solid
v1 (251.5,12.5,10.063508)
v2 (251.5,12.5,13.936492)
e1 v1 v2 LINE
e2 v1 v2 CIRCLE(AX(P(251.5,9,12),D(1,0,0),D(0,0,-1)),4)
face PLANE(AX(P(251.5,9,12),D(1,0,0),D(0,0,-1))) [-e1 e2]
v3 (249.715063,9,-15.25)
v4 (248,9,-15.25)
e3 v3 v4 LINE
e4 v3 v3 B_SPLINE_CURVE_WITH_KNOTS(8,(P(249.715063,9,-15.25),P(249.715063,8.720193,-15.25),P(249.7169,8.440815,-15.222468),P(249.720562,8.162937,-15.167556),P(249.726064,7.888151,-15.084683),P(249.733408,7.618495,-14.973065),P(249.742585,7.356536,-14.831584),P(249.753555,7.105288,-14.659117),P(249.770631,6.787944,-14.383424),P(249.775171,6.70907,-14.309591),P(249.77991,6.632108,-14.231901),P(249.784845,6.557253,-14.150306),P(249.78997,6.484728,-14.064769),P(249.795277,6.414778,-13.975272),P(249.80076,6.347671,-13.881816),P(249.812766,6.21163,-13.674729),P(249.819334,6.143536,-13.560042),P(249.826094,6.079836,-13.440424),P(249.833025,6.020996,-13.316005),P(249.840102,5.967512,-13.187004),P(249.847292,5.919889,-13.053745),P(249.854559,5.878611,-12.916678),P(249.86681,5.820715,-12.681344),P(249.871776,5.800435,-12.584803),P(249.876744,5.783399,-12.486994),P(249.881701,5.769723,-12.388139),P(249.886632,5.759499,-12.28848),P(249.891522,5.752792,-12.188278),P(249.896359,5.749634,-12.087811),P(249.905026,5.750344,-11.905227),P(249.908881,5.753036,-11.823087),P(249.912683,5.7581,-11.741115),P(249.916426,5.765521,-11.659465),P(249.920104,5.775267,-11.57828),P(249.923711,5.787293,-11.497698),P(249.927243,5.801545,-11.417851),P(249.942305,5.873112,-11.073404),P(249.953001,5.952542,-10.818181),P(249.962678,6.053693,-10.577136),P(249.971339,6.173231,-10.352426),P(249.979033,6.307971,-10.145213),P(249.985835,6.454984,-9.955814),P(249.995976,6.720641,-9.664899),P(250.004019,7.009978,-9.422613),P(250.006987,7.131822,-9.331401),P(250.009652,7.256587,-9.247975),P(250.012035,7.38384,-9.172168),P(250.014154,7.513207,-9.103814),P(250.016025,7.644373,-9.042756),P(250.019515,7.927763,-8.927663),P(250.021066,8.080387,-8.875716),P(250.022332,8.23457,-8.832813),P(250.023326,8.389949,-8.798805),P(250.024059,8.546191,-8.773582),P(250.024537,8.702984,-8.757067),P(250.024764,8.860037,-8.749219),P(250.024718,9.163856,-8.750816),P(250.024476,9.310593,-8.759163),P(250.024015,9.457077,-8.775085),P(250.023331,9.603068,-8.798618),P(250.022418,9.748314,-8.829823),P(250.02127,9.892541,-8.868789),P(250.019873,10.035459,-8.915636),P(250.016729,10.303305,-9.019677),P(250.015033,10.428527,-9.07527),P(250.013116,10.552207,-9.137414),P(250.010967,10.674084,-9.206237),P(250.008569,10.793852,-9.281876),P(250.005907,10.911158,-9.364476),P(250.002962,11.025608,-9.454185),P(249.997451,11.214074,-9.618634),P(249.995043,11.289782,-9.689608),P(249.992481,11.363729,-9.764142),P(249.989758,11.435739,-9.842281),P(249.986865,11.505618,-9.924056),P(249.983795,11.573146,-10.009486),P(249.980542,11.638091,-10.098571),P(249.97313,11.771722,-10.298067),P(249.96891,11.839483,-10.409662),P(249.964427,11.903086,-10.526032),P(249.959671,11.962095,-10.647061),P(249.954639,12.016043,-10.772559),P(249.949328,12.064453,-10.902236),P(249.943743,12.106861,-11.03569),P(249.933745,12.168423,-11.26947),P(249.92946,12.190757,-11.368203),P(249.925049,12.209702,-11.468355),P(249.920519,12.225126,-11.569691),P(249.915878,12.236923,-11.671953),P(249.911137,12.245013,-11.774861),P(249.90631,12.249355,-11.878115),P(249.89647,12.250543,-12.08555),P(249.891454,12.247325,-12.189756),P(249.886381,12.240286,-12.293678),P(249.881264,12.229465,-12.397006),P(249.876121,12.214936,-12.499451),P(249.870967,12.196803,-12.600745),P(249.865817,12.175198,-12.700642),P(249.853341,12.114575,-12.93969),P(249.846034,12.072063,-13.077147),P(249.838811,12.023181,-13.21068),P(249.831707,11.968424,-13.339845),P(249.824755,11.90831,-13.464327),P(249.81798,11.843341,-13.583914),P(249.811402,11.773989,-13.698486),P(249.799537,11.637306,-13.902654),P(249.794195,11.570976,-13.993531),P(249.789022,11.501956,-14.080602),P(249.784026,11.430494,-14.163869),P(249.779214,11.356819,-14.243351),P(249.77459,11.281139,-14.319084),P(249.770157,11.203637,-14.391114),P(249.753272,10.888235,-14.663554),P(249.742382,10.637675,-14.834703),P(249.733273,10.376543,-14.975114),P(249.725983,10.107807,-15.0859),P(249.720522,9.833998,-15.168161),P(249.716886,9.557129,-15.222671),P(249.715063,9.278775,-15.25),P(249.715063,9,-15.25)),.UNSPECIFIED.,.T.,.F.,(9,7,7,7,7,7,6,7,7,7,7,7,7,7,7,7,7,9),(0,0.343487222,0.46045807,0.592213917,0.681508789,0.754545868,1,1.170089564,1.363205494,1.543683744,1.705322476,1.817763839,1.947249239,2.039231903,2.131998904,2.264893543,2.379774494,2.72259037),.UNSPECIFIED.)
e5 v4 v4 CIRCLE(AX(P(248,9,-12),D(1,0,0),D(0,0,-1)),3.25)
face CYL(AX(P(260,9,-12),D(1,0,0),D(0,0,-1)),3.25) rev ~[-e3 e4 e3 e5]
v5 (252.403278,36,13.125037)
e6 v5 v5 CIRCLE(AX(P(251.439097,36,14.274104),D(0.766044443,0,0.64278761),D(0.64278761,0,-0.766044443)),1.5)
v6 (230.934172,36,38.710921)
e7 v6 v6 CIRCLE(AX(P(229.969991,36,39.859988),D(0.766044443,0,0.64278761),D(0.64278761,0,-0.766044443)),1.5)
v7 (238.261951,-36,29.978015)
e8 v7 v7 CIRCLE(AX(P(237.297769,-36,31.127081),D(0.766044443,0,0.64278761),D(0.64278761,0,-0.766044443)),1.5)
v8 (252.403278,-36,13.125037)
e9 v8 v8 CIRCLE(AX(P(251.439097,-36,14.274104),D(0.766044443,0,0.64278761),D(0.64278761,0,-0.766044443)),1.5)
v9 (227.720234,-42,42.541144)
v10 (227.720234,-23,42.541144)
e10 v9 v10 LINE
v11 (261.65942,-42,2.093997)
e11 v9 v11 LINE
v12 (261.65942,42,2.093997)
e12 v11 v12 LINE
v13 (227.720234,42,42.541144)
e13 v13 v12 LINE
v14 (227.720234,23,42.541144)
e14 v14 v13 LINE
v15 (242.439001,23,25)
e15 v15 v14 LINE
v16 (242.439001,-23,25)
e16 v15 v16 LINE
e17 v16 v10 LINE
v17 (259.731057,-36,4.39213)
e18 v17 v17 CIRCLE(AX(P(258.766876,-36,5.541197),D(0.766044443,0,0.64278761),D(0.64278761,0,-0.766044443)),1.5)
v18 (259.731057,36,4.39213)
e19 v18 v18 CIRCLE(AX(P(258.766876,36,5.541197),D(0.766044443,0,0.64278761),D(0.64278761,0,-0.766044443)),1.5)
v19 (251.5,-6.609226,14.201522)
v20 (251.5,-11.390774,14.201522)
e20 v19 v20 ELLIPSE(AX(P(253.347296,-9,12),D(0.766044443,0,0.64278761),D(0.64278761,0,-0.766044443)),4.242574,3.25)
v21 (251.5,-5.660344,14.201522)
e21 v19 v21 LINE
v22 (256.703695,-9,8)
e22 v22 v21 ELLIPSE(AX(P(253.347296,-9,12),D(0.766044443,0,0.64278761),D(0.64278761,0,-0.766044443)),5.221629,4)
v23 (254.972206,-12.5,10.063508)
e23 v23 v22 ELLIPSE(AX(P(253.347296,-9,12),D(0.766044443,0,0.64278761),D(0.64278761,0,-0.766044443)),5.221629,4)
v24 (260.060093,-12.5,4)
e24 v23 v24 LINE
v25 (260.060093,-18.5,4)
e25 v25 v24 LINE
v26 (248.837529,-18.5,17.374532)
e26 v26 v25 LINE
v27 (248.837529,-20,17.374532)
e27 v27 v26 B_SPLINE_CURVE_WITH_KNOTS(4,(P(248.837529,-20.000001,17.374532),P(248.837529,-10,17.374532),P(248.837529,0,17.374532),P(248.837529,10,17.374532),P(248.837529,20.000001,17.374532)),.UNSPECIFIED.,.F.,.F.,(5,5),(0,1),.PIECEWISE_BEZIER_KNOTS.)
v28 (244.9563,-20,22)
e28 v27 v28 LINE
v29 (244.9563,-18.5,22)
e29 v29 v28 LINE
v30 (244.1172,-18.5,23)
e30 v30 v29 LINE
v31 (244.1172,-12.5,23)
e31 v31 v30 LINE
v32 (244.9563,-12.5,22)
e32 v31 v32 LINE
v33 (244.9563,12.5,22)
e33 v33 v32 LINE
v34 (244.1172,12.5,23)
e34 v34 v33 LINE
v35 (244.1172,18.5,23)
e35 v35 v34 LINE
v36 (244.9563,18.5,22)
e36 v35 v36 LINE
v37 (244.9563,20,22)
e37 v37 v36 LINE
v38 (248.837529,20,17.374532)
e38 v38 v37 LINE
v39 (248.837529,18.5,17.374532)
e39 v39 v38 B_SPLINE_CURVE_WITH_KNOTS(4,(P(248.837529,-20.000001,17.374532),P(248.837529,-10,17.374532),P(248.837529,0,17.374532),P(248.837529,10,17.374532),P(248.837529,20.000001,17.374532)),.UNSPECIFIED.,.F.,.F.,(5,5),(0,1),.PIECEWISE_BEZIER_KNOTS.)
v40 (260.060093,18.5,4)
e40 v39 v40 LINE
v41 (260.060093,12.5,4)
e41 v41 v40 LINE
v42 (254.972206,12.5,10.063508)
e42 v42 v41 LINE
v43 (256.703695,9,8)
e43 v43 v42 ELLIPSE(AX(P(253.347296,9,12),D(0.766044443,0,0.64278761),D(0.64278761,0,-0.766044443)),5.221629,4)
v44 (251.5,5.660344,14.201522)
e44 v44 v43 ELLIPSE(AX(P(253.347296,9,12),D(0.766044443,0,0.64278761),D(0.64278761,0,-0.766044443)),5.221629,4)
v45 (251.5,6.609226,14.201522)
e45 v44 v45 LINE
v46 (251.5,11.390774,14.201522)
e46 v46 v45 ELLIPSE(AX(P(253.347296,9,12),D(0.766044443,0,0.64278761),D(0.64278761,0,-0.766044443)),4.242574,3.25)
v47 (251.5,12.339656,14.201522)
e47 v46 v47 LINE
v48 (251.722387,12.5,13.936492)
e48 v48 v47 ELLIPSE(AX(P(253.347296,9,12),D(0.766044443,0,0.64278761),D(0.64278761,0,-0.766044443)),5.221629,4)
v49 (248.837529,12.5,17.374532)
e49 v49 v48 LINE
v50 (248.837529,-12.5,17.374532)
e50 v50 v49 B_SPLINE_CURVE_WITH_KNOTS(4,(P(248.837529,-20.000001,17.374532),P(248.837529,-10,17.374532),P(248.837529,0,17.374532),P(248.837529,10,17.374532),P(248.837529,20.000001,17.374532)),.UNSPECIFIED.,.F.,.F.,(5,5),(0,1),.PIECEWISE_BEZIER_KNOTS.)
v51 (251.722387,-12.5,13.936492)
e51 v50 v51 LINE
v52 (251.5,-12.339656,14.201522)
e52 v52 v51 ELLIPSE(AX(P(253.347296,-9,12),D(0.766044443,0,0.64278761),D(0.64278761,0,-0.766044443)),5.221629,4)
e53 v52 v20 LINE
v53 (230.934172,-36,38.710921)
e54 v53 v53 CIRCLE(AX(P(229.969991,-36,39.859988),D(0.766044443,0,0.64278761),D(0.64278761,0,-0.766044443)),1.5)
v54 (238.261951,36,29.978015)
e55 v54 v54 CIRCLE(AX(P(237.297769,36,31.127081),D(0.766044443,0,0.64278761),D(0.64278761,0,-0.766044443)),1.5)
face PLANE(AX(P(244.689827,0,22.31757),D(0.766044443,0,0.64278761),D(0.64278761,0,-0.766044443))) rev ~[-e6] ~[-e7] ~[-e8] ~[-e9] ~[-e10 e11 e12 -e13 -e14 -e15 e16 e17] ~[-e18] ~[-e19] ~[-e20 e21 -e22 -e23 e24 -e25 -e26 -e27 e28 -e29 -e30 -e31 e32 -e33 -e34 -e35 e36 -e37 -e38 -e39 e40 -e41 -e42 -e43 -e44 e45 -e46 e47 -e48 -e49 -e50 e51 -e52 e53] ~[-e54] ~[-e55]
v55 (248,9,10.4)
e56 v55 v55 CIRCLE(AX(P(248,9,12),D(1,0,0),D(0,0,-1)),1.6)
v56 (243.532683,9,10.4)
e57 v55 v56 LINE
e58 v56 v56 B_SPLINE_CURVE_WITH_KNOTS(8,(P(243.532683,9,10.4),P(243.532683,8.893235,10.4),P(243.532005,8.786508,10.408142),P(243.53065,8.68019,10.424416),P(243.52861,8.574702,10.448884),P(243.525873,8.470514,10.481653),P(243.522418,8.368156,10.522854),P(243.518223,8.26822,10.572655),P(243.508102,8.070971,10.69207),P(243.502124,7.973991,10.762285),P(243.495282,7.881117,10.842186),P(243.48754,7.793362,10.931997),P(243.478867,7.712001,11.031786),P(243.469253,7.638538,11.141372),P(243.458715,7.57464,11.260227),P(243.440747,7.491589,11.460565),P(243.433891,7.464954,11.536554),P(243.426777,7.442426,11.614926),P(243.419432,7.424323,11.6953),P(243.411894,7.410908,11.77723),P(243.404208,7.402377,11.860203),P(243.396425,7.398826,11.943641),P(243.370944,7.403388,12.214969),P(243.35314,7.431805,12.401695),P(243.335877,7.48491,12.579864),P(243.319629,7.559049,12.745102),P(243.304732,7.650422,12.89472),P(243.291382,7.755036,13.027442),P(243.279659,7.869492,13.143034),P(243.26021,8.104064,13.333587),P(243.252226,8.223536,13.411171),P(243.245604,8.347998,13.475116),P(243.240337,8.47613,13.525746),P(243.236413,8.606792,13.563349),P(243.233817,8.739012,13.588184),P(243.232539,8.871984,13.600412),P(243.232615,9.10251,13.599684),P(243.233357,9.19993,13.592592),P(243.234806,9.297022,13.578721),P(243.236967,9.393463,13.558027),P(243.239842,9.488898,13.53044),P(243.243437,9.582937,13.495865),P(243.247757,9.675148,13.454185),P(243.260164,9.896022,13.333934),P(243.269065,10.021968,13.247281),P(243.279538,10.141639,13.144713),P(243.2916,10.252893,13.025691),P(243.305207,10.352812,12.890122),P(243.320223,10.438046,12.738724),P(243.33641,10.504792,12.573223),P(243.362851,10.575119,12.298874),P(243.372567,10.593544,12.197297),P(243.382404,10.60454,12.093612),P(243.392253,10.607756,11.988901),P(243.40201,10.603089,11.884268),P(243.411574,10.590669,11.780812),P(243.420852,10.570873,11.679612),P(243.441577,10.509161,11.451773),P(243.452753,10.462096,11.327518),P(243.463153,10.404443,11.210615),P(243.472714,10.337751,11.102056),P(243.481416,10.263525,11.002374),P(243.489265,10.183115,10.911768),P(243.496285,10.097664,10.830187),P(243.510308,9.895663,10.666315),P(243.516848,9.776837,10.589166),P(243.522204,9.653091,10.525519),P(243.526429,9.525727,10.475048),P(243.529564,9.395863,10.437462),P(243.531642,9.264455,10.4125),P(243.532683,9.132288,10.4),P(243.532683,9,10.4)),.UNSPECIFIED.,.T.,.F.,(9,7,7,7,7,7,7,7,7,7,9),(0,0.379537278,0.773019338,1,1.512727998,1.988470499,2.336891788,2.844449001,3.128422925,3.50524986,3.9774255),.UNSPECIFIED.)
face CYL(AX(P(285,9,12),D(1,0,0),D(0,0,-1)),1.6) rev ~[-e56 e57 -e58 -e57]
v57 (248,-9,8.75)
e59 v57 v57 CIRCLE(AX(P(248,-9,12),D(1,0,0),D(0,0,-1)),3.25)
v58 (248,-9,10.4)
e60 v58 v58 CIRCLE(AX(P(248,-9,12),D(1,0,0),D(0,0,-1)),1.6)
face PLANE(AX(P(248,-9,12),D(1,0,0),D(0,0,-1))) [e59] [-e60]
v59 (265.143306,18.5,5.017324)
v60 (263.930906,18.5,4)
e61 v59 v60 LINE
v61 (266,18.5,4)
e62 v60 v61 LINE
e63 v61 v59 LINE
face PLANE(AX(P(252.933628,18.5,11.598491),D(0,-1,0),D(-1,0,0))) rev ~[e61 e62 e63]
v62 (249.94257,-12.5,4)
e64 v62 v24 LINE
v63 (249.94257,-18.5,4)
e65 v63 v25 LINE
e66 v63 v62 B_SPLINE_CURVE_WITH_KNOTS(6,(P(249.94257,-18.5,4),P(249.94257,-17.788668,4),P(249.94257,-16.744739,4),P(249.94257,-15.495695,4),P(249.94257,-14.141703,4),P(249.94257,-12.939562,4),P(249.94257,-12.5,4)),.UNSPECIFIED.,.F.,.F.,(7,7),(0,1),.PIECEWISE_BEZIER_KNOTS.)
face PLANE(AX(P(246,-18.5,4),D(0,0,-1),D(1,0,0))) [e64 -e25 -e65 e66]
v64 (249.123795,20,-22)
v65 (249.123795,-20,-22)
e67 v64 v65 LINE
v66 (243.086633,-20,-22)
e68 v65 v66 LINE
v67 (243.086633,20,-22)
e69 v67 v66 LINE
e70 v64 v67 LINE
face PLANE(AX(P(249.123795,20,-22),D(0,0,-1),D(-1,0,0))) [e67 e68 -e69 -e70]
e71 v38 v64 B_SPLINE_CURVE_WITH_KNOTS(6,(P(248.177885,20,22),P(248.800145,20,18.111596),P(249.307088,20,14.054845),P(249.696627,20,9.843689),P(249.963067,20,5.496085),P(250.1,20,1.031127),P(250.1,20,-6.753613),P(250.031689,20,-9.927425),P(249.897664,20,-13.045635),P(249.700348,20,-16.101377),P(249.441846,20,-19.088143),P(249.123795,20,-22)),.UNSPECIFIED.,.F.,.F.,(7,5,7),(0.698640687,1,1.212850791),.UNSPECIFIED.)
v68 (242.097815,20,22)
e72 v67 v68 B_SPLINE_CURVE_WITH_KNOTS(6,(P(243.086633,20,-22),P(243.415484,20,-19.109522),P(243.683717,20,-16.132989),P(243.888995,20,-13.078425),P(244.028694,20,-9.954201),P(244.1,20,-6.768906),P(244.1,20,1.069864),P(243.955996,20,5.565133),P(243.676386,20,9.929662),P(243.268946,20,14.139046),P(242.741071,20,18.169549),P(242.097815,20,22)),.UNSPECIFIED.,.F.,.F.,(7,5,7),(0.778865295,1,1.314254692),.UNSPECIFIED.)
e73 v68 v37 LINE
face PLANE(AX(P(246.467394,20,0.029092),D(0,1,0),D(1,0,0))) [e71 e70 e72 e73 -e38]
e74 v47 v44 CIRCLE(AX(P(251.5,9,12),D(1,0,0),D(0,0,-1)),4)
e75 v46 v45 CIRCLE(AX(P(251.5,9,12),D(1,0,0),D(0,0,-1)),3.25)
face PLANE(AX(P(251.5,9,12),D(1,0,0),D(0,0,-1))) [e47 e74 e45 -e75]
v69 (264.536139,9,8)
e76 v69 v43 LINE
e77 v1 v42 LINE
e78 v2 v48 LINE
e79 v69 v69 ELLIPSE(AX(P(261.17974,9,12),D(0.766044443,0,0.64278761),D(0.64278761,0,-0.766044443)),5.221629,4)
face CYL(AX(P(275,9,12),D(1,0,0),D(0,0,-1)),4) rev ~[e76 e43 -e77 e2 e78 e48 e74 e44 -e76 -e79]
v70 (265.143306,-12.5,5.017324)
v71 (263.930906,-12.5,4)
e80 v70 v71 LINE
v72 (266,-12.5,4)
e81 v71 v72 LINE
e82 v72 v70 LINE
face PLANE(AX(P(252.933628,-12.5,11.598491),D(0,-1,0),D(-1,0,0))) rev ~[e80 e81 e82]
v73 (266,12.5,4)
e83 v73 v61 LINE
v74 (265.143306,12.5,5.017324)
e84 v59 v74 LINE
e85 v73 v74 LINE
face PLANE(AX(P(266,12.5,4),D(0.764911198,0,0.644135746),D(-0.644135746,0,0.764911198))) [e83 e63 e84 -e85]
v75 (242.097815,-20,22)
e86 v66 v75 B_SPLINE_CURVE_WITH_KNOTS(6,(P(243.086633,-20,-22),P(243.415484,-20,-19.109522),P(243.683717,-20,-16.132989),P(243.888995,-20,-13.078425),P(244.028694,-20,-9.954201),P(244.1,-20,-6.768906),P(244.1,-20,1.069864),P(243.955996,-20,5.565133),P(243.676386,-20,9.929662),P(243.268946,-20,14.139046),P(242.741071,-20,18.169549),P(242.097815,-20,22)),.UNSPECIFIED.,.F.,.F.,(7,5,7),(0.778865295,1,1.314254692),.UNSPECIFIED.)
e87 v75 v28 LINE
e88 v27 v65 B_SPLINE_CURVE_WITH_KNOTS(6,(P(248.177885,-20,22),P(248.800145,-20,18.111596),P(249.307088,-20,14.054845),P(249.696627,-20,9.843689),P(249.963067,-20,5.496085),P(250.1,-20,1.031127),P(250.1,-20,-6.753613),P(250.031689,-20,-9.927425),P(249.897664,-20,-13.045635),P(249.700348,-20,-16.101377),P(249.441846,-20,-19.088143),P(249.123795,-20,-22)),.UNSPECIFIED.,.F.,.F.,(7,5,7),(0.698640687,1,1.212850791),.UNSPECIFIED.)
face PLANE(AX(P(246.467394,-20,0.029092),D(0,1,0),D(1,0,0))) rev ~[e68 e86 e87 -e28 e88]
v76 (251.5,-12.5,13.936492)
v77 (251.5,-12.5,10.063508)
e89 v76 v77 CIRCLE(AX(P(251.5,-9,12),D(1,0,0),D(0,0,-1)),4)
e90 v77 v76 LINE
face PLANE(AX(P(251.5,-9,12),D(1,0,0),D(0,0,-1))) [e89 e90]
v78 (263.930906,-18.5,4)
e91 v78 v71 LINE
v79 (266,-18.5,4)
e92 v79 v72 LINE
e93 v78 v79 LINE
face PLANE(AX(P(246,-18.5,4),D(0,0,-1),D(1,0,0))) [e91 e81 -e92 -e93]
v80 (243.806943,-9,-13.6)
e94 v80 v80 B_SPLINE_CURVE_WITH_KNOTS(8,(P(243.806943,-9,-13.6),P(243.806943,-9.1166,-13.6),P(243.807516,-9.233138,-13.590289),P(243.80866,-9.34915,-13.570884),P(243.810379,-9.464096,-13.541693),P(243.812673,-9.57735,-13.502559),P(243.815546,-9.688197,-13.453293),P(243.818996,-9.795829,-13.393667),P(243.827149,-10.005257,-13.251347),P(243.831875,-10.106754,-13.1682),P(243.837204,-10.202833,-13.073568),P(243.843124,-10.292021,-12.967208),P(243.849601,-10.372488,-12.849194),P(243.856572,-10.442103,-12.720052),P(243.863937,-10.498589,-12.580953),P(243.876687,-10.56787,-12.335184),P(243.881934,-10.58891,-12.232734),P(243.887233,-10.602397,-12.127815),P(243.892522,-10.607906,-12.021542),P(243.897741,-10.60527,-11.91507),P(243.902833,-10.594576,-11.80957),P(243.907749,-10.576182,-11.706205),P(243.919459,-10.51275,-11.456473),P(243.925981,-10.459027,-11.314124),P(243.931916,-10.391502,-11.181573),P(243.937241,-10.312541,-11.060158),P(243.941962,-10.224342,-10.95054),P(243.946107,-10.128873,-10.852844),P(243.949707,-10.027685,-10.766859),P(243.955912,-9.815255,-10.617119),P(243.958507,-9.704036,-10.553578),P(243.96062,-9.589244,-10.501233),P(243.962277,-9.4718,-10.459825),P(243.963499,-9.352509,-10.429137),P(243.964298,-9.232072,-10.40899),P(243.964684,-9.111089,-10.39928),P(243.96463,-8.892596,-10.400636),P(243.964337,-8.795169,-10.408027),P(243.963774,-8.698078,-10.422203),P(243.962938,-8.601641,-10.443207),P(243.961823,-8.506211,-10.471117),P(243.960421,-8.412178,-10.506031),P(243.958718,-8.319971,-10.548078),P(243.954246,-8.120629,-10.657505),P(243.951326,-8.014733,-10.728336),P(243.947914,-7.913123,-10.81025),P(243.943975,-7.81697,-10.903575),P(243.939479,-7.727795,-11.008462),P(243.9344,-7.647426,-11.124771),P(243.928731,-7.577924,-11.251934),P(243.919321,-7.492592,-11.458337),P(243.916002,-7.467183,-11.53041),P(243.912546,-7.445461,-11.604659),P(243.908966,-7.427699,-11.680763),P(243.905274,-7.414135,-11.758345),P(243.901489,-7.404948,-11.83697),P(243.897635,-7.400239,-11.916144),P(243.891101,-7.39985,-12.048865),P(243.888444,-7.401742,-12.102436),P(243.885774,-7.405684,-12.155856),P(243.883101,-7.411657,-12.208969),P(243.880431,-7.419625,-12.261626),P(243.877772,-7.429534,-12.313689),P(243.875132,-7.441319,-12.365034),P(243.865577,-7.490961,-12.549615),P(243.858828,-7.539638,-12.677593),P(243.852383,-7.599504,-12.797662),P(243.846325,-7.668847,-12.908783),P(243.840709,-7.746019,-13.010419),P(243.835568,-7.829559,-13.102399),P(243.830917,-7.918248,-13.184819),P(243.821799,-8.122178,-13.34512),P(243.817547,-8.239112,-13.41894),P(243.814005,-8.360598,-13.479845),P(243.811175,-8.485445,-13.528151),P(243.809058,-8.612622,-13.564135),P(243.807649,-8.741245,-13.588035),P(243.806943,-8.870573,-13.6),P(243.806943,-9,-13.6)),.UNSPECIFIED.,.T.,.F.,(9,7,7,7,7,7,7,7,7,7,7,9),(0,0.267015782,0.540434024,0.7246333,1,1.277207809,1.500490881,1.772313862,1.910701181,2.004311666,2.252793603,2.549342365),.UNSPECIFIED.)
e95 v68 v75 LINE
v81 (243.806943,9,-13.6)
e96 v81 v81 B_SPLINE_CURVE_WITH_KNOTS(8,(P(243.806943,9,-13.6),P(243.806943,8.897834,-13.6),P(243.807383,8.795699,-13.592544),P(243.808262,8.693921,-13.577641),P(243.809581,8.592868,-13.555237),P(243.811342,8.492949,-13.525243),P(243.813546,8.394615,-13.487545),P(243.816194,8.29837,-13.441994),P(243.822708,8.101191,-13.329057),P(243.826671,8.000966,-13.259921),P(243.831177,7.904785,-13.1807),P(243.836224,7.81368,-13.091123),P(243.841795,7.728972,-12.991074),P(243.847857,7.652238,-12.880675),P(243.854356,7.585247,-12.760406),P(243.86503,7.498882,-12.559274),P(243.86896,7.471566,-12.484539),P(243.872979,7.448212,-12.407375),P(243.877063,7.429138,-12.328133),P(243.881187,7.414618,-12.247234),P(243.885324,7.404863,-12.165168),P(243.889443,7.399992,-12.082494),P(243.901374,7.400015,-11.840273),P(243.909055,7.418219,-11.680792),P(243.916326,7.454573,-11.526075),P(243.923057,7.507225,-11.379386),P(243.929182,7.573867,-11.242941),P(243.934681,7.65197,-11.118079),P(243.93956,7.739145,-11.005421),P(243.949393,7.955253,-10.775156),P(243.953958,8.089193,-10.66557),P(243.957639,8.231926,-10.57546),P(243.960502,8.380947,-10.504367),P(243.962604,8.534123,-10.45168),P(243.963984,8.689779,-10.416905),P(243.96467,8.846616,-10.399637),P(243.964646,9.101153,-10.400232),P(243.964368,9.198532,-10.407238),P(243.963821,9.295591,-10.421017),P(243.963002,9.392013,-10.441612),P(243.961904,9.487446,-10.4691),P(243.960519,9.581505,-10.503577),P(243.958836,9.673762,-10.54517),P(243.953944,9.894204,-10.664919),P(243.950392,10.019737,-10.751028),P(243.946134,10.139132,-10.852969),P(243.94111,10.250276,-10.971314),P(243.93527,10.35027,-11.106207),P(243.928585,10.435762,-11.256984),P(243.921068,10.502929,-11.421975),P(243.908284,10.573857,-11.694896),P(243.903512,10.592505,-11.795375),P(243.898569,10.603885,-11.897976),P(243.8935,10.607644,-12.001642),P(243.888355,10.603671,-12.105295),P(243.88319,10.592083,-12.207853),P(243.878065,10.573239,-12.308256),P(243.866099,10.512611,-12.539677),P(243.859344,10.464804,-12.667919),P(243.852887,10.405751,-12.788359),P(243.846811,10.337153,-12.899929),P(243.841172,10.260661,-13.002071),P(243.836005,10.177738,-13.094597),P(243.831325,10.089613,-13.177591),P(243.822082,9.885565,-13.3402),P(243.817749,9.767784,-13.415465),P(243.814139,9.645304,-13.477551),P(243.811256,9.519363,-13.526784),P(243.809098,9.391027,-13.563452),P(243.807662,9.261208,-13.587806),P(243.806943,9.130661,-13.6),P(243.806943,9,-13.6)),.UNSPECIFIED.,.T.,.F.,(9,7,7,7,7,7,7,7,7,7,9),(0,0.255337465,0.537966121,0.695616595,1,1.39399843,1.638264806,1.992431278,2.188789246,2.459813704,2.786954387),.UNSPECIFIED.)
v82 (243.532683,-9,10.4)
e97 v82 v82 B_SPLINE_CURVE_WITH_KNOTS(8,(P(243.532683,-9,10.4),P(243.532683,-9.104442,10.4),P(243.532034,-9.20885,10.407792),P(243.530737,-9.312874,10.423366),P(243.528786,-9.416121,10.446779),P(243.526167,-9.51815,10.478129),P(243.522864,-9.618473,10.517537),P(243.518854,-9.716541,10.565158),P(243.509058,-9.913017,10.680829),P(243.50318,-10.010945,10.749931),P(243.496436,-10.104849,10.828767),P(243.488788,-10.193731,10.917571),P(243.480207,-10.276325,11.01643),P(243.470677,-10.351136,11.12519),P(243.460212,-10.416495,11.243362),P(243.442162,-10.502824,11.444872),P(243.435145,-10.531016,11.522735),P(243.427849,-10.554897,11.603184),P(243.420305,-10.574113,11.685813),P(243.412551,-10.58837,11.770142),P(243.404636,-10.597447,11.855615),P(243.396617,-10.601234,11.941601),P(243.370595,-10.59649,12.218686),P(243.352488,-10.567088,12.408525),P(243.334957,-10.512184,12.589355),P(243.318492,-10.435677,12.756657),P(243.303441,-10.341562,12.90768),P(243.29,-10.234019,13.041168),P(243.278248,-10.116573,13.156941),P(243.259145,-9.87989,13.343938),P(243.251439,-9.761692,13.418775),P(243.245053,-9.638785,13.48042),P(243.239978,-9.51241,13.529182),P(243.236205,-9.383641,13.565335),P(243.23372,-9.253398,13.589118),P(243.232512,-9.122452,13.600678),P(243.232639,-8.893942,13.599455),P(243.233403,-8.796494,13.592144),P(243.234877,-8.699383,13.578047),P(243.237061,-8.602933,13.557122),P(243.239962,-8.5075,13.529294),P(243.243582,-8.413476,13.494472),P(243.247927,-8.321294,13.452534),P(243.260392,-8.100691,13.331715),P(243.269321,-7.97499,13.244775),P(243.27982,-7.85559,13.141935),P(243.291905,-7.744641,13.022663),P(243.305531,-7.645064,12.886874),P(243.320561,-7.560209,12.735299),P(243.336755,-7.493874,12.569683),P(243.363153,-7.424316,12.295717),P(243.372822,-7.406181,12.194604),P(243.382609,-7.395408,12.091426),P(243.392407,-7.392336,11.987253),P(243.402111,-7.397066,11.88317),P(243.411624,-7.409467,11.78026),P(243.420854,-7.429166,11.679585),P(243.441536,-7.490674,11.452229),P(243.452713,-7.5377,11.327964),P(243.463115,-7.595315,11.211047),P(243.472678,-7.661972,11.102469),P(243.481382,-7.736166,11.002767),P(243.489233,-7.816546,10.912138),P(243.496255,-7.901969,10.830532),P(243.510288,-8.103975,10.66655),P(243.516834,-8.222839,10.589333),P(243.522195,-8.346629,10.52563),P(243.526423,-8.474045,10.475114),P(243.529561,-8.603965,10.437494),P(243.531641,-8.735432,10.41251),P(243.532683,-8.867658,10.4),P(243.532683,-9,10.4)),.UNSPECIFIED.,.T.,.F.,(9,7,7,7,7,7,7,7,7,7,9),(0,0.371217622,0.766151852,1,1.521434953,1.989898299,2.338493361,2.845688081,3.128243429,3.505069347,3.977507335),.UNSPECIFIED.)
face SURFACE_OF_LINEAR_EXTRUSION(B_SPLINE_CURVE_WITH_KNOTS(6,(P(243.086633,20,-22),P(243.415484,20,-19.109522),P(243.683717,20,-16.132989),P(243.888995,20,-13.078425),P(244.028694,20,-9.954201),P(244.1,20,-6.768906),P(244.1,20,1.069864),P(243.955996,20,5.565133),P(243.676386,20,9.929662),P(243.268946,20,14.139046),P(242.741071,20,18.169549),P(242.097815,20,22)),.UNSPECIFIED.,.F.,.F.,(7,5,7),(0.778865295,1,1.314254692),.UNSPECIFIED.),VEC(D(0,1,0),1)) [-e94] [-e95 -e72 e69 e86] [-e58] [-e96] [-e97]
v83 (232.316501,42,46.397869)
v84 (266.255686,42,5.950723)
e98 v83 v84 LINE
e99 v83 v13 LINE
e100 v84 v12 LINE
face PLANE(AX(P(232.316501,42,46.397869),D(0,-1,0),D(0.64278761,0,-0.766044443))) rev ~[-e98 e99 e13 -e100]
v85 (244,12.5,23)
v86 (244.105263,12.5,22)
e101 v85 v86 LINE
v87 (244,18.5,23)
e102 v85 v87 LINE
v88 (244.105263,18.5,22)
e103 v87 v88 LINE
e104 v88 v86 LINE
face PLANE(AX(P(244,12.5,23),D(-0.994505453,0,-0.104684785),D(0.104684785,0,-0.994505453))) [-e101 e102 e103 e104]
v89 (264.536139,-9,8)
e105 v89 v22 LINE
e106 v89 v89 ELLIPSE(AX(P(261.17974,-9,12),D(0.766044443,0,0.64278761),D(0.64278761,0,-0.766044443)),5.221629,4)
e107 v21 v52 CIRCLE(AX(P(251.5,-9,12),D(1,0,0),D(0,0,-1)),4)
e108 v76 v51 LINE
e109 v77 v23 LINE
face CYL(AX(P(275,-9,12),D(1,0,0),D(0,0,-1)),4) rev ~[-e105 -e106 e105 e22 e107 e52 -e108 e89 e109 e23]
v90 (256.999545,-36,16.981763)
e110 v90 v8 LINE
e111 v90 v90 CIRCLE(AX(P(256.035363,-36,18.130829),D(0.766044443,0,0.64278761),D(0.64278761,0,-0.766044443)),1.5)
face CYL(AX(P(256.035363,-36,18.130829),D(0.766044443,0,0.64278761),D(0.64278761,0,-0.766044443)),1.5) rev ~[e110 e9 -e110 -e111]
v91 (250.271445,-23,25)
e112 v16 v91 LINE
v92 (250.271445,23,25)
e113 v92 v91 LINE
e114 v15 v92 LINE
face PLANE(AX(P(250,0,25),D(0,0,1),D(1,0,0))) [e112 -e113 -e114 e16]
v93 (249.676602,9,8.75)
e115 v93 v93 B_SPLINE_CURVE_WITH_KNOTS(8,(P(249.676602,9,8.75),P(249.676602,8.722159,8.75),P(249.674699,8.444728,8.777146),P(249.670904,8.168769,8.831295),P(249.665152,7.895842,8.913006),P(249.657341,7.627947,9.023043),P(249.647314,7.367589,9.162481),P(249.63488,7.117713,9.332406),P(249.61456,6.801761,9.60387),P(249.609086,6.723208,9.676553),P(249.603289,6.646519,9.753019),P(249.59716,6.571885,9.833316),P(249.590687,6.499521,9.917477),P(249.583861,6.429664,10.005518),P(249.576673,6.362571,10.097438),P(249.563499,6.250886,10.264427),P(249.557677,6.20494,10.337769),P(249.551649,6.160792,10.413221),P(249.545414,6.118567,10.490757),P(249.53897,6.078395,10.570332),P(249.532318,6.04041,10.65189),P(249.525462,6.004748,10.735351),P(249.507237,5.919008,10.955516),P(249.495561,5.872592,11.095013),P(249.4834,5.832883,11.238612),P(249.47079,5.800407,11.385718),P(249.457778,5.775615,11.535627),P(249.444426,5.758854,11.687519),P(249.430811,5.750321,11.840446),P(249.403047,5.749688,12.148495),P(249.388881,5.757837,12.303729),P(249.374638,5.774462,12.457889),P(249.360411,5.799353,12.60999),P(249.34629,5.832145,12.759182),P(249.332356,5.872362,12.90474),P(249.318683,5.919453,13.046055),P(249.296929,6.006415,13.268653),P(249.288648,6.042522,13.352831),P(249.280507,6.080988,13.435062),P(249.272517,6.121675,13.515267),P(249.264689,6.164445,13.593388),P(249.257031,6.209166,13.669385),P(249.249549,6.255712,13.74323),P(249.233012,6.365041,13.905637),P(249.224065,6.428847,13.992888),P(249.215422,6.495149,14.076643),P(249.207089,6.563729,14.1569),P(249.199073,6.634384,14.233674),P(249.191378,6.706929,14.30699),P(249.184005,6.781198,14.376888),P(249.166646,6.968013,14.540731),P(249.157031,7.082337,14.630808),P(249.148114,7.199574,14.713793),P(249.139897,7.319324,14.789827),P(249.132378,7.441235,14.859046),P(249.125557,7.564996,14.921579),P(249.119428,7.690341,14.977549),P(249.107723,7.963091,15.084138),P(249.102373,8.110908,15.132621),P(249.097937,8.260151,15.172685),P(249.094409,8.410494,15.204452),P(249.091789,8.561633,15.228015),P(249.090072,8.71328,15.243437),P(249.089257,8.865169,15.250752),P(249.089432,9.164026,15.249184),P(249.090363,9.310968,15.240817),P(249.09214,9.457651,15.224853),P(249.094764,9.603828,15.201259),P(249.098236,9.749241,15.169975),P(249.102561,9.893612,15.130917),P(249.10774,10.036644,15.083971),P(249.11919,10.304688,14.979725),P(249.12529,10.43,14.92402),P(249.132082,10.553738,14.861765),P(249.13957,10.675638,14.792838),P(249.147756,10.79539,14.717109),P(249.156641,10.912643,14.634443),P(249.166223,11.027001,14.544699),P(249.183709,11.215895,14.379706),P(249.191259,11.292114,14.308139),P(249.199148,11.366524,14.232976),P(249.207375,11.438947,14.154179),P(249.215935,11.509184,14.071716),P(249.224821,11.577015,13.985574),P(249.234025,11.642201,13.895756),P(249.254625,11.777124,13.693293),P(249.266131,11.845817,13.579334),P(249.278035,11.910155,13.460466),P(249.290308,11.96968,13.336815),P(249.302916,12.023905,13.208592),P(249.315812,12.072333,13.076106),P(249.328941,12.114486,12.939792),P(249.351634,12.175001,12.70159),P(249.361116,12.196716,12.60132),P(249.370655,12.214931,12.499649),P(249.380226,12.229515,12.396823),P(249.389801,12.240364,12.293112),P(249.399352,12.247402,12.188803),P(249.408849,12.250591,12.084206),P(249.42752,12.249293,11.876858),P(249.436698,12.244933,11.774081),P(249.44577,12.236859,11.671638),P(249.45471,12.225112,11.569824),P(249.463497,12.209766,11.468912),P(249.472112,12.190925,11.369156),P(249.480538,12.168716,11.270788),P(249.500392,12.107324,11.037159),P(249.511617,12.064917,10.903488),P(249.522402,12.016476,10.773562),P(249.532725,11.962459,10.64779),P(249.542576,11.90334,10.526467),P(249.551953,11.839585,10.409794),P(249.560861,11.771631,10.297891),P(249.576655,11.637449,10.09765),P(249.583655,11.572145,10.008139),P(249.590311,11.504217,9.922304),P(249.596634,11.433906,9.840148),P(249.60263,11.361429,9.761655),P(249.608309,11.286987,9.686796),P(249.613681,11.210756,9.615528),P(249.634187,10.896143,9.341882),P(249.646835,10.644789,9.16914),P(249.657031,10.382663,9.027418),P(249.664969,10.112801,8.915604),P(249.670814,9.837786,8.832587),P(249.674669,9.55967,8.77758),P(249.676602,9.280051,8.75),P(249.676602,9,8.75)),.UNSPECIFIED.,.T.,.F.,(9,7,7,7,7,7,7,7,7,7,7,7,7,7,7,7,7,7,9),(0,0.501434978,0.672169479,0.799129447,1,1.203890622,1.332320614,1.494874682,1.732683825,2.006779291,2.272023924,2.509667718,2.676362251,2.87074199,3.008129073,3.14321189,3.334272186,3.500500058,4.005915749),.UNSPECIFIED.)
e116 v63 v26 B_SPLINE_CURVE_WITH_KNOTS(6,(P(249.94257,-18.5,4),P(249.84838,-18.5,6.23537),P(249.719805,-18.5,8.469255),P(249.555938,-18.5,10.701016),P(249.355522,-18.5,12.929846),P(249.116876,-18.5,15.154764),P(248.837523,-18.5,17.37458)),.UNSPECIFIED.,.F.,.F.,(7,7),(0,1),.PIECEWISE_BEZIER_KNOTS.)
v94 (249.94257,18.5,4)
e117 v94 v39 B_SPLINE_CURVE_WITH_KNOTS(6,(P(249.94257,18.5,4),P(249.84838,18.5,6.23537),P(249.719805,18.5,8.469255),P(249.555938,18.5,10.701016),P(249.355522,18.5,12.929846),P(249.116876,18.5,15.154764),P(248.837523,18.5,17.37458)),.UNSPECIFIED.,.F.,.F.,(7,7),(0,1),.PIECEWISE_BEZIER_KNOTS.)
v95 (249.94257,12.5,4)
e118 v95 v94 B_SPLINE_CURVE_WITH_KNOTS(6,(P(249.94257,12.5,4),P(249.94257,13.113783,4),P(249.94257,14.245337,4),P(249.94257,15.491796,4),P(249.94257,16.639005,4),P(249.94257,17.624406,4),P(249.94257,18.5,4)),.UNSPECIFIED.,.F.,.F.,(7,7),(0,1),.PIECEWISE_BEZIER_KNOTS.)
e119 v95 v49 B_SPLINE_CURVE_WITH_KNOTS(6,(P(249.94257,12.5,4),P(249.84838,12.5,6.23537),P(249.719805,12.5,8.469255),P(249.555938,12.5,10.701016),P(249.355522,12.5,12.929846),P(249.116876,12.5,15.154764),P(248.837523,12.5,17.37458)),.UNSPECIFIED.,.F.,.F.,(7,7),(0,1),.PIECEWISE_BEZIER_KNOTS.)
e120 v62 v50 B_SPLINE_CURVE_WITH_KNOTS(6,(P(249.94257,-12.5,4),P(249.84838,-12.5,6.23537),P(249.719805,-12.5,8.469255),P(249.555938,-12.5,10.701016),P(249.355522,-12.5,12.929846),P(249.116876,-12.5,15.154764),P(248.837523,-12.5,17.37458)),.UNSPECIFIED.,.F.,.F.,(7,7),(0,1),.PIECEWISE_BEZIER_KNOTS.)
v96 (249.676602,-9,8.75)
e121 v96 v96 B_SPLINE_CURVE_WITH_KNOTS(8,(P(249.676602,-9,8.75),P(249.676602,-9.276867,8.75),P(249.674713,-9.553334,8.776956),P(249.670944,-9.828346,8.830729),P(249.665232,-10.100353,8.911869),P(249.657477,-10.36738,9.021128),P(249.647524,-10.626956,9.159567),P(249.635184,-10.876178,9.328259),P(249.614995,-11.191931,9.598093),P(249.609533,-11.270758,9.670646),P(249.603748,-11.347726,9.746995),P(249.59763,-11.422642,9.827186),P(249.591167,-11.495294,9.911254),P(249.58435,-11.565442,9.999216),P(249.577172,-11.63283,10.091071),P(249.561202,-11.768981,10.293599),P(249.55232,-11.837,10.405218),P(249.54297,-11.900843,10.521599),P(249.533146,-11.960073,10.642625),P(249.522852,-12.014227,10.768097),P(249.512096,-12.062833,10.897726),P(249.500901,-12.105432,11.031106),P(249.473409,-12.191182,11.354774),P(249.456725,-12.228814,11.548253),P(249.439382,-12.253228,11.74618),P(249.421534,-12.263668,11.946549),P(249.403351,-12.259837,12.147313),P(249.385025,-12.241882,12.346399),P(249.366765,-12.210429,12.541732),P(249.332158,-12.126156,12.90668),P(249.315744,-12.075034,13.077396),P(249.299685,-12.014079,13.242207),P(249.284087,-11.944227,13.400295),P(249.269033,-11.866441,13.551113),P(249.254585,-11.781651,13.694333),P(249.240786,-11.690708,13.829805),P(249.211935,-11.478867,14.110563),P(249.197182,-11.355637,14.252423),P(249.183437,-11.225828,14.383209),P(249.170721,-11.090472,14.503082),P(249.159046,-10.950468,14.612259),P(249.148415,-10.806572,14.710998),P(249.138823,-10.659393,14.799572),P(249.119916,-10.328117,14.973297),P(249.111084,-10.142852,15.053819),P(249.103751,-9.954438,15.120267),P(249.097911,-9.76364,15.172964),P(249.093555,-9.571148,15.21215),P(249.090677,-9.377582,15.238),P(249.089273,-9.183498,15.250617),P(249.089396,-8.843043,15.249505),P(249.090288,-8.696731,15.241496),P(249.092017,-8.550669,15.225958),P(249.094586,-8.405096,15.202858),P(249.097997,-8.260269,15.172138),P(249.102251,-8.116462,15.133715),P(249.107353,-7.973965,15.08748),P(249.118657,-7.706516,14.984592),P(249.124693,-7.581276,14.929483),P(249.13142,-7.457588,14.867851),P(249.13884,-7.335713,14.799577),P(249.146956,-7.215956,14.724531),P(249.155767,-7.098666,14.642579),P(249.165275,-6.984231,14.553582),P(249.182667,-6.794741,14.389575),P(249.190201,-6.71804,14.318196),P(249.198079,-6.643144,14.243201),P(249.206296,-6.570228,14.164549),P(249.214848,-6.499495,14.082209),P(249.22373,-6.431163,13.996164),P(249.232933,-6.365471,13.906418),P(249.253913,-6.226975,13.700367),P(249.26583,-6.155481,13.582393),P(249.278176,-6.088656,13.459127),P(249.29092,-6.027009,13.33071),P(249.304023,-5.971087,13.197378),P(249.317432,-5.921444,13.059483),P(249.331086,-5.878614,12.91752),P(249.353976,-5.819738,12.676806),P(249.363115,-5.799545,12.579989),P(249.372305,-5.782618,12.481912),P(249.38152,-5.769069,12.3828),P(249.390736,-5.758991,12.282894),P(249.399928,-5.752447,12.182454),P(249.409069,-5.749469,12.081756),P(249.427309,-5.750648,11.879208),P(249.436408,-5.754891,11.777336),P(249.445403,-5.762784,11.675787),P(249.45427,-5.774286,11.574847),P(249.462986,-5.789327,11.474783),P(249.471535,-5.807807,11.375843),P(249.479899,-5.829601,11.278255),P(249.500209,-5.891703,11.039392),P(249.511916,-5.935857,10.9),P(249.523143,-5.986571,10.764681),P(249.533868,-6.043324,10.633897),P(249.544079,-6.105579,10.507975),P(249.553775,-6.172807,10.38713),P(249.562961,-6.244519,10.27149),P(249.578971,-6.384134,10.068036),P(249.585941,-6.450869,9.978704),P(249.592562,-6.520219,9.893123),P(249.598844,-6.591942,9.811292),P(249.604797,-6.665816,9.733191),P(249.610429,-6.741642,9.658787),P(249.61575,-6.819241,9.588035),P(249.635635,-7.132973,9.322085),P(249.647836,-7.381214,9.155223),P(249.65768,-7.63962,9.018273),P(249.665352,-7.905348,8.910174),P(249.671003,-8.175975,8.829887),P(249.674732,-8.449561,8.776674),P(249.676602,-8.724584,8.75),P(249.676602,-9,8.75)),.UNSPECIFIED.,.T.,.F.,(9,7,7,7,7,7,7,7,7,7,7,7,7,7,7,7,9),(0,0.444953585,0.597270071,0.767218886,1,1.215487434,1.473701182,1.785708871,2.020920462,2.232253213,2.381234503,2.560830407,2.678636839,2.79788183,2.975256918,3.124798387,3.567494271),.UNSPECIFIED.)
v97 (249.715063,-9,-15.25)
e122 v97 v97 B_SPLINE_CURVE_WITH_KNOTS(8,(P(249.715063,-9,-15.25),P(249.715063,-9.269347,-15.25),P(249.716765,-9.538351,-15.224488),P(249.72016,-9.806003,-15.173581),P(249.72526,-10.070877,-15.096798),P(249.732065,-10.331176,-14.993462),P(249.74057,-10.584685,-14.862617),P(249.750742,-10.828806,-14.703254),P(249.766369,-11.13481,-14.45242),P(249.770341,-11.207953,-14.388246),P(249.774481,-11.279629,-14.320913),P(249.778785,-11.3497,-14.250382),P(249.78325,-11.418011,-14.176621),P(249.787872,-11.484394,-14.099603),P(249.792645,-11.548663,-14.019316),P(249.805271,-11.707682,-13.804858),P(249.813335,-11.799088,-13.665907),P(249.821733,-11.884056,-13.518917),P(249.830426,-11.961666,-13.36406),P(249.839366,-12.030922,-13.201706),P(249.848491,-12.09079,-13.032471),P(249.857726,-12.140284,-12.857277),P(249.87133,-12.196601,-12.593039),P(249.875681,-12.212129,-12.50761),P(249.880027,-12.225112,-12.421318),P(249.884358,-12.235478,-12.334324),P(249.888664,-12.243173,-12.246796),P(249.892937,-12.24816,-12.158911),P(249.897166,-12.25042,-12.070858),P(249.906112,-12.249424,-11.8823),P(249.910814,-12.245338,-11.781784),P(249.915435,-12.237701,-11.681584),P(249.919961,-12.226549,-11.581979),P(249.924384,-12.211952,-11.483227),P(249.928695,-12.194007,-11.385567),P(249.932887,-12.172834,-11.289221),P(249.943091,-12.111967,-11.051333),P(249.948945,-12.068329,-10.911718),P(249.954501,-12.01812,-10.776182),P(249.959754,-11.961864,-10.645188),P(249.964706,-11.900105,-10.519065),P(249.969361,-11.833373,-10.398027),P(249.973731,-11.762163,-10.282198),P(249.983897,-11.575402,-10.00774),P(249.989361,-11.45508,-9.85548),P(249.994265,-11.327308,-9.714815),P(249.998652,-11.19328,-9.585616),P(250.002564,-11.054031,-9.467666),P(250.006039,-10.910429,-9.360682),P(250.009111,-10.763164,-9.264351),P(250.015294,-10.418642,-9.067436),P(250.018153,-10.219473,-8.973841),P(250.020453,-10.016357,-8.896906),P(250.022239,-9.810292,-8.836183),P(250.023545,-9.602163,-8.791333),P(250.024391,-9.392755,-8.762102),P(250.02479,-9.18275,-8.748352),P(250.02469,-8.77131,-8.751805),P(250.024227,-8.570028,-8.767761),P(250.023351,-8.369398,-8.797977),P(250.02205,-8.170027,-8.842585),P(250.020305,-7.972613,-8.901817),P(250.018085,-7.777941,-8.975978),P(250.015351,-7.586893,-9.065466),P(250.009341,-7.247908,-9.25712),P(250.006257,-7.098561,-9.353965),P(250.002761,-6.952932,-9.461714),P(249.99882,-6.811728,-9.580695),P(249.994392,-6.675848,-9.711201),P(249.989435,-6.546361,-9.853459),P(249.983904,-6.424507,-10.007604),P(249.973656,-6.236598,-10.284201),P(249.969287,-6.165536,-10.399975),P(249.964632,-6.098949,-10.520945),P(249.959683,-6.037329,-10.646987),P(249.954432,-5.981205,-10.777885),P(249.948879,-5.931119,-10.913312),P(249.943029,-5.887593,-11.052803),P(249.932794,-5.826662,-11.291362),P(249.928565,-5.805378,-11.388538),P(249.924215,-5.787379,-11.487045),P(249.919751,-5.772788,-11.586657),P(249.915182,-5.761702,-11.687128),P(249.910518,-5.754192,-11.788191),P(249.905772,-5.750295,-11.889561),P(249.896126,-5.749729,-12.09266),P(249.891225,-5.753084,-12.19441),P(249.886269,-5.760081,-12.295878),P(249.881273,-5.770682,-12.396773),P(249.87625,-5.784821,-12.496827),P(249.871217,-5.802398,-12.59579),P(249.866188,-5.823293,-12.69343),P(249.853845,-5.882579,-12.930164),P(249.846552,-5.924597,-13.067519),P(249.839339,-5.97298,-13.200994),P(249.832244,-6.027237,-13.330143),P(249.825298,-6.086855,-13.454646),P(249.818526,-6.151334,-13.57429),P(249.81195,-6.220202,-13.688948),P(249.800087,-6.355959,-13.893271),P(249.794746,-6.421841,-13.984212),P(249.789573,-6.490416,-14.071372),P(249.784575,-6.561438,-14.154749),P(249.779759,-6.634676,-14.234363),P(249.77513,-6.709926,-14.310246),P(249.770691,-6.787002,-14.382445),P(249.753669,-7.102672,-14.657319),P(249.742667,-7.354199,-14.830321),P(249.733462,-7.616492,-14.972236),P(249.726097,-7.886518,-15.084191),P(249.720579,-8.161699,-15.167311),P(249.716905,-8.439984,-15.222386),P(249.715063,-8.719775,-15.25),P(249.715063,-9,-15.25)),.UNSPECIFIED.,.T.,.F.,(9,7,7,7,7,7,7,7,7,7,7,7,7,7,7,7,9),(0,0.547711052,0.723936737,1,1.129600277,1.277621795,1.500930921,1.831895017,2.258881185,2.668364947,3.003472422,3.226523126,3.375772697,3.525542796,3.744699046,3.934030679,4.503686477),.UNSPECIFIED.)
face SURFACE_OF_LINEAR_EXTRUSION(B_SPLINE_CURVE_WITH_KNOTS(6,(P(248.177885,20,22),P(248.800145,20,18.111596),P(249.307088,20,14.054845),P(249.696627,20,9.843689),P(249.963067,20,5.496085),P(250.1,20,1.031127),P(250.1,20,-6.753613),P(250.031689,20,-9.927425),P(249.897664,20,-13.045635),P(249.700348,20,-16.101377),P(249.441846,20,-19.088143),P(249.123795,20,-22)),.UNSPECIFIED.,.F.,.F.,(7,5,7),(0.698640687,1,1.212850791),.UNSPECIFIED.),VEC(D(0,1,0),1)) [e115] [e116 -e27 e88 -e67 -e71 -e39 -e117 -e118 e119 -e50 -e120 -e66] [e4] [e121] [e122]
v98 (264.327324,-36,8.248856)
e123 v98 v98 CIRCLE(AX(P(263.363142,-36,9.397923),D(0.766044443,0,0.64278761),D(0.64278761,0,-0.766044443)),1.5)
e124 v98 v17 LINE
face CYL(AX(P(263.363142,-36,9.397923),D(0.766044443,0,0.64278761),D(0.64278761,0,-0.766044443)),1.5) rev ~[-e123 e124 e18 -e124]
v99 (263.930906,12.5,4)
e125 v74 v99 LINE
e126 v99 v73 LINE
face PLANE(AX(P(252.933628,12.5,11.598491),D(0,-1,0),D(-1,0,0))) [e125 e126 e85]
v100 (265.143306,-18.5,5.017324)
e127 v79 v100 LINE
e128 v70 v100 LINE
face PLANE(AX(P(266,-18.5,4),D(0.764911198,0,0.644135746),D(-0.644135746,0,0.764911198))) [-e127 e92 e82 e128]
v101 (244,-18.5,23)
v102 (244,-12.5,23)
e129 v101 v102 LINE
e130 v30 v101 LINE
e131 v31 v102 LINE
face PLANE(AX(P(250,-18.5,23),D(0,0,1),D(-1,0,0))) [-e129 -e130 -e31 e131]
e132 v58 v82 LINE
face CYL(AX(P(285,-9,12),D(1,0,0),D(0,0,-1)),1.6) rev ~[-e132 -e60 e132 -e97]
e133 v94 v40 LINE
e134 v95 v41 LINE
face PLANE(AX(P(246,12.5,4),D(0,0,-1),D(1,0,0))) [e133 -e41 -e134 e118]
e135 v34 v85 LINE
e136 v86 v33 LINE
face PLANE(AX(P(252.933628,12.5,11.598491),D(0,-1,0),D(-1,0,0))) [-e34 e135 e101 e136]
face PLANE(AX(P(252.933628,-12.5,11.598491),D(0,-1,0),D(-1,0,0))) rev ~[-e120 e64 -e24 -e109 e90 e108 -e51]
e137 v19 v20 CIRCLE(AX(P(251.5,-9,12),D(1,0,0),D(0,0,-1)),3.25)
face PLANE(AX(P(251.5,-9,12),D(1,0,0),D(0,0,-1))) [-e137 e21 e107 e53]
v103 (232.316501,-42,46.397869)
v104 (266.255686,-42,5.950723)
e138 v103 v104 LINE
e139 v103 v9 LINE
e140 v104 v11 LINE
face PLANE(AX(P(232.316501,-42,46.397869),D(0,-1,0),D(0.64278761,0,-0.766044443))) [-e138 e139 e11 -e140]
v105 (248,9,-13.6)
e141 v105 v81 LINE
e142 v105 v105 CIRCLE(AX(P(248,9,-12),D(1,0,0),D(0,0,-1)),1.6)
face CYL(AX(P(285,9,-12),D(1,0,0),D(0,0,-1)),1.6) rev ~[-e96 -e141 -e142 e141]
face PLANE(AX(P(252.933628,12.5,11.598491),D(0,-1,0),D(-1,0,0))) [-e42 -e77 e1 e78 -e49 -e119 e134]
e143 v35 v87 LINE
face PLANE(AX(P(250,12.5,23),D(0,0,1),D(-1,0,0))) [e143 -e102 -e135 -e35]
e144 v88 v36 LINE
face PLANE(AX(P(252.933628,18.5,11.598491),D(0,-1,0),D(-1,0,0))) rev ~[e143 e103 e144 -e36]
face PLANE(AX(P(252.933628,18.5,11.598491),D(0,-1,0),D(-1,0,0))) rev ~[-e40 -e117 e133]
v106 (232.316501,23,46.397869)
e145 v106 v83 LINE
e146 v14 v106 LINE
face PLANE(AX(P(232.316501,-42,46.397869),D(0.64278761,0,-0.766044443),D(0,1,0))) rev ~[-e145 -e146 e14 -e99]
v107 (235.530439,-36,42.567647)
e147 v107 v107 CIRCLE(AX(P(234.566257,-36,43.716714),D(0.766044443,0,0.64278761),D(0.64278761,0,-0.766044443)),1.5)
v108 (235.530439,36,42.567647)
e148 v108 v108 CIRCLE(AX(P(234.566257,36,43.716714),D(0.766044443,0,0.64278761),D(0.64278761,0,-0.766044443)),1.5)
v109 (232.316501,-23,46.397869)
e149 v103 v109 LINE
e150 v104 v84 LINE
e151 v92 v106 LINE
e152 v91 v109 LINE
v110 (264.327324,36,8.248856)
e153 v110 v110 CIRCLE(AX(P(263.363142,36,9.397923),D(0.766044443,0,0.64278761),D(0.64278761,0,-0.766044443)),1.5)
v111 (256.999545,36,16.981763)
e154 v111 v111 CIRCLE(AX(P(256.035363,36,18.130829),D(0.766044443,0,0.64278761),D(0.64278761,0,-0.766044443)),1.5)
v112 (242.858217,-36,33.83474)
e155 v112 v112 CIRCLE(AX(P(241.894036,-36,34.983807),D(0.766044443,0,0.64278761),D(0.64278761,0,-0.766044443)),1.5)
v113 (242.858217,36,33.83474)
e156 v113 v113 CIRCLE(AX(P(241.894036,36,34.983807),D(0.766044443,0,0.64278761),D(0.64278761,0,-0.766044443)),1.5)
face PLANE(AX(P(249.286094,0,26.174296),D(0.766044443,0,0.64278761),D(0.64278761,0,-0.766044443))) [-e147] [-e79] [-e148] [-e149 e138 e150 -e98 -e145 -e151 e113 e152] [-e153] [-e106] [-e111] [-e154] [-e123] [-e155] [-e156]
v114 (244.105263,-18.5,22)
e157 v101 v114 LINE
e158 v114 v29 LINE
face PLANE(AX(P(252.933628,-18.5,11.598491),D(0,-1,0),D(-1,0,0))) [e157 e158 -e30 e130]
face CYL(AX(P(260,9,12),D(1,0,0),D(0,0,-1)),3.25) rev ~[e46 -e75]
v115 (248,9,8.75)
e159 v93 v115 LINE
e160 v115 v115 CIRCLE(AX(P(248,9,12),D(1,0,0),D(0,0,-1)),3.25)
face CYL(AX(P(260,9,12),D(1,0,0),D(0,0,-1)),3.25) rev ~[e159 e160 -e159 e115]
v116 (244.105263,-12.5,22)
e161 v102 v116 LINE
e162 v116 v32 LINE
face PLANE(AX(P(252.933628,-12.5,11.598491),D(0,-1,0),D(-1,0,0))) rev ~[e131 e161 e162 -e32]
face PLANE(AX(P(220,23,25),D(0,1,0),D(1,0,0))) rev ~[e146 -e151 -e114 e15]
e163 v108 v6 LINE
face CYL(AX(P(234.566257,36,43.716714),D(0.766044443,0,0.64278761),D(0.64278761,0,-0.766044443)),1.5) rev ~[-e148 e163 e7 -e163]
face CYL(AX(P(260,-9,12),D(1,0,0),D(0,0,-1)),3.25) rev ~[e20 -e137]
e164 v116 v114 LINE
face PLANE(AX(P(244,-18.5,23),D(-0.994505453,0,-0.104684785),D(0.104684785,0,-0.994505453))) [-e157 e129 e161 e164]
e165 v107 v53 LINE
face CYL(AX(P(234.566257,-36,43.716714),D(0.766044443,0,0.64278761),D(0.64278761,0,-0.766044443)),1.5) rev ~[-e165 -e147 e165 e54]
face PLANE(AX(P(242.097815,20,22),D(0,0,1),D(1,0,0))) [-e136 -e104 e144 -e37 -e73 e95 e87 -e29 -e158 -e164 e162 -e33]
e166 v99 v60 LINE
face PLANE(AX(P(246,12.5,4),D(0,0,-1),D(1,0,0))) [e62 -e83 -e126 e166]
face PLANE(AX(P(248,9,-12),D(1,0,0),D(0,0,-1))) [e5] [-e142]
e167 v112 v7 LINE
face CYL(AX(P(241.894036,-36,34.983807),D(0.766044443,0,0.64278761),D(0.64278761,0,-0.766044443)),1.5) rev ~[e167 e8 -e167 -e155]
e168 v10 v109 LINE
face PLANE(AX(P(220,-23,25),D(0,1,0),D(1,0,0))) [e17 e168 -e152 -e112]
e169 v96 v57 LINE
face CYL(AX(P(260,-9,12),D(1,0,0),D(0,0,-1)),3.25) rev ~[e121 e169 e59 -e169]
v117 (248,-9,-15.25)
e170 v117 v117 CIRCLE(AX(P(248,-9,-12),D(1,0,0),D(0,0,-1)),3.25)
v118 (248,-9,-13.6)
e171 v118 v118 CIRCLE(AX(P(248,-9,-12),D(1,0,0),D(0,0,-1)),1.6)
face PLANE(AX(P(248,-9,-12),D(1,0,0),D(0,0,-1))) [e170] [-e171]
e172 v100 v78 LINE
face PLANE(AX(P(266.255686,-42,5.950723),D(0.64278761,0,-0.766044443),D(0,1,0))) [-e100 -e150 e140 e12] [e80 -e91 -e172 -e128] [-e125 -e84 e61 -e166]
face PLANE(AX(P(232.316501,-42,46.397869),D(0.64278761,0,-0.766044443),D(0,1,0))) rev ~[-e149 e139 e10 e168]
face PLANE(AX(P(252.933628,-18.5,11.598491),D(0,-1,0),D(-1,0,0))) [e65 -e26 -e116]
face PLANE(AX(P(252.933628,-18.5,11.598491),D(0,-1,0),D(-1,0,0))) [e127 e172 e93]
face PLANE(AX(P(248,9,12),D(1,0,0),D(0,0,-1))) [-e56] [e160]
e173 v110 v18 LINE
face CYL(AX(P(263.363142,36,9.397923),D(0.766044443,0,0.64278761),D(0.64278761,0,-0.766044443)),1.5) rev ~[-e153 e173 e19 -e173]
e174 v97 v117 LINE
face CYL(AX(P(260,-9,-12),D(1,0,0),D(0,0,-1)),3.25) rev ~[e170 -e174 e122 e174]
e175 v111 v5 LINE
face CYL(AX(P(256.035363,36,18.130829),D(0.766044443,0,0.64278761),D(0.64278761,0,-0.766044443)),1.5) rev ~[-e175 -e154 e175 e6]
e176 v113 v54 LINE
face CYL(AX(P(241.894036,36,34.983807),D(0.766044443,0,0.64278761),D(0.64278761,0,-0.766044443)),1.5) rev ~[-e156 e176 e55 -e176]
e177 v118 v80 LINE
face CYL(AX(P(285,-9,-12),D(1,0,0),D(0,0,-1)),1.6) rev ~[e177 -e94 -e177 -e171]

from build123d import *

# Parameters (mm, degrees)
SKETCH_1_W          = 52.8
SKETCH_1_H          = 84
EXTRUDE_1_DEPTH     = 6
SKETCH_2_R          = 1.5
CUT_EXTRUDE_1_DEPTH = 8
SKETCH_3_W          = 60
SKETCH_3_H          = 46
CUT_EXTRUDE_2_DEPTH = 50
EXTRUDE_2_DEPTH     = 40
EXTRUDE_3_DEPTH     = 6
EXTRUDE_4_DEPTH     = 6
SKETCH_7_R          = 1.6
CUT_EXTRUDE_3_DEPTH = 70
SKETCH_8_R          = 3.25
CUT_EXTRUDE_4_DEPTH = 12
SKETCH_9_R          = 4
CUT_EXTRUDE_5_DEPTH = 23.5


with BuildPart() as part:
    # 草图1 → 凸台-拉伸1 (new body)
    with BuildSketch(Plane(origin=(159.175409567, 0, 133.564027461), x_dir=(0.6427876096867067, 0, -0.7660444431188377), z_dir=(0.7660444431188378, 0, 0.6427876096867067))):
        with Locations((140.187338197, 0)):
            Rectangle(SKETCH_1_W, SKETCH_1_H)
    extrude(amount=-EXTRUDE_1_DEPTH)

    # 草图2 → 切除-拉伸1 (cut)
    with BuildSketch(Plane(origin=(159.175409567, 0, 133.564027461), x_dir=(0.6427876096867067, 0, -0.7660444431188377), z_dir=(0.7660444431188378, 0, 0.6427876096867067))):
        with Locations((117.287338197, -36)):
            Circle(SKETCH_2_R)
        with Locations((117.287338197, 36)):
            Circle(SKETCH_2_R)
        with Locations((150.687338197, 36)):
            Circle(SKETCH_2_R)
        with Locations((128.687338197, 36)):
            Circle(SKETCH_2_R)
        with Locations((128.687338197, -36)):
            Circle(SKETCH_2_R)
        with Locations((162.087338197, 36)):
            Circle(SKETCH_2_R)
        with Locations((162.087338197, -36)):
            Circle(SKETCH_2_R)
        with Locations((150.687338197, -36)):
            Circle(SKETCH_2_R)
    extrude(amount=-CUT_EXTRUDE_1_DEPTH, mode=Mode.SUBTRACT)

    # 草图3 → 切除-拉伸2 (cut)
    with BuildSketch(Plane.XY.offset(25)):
        with Locations((250, 0)):
            Rectangle(SKETCH_3_W, SKETCH_3_H)
    extrude(amount=CUT_EXTRUDE_2_DEPTH, mode=Mode.SUBTRACT)

    # 草图4 → 凸台-拉伸2 (add)
    with BuildSketch(Plane(origin=(0, 20, 0), x_dir=(-1, 0, 0), z_dir=(0, -1, 0))):
        with BuildLine():
            Line((-249.1237949, 22), (-243.086632908, 22))
            add(Edge.make_bspline(
                [(-243.086632908, 22), (-243.481254737, 18.531426174), (-243.784948463, 14.933770973), (-243.993041019, 11.223078881), (-244.1, 7.416444076), (-244.1, 3.53121788)],
                knots=[0.778865295, 0.778865295, 0.778865295, 0.778865295, 0.778865295, 0.778865295, 1, 1, 1, 1, 1, 1], degree=5))
            add(Edge.make_bspline(
                [(-244.1, 3.53121788), (-244.1, -1.069863619), (-243.955995612, -5.56513348), (-243.676385618, -9.929661799), (-243.268946043, -14.139045721), (-242.741071446, -18.169549128), (-242.097814731, -22)],
                knots=[0, 0, 0, 0, 0, 0, 0, 0.314254692, 0.314254692, 0.314254692, 0.314254692, 0.314254692, 0.314254692, 0.314254692], degree=6))
            Line((-242.097814731, -22), (-248.177885229, -22))
            add(Edge.make_bspline(
                [(-248.177885229, -22), (-248.800145217, -18.111595668), (-249.307087627, -14.054845034), (-249.696626763, -9.84368942), (-249.96306742, -5.496084567), (-250.1, -1.031127344), (-250.1, 3.53121788)],
                knots=[0.698640687, 0.698640687, 0.698640687, 0.698640687, 0.698640687, 0.698640687, 0.698640687, 1, 1, 1, 1, 1, 1, 1], degree=6))
            add(Edge.make_bspline(
                [(-250.1, 3.53121788), (-250.1, 7.398092065), (-249.997534101, 11.192091342), (-249.797793696, 14.899179655), (-249.505456591, 18.505771646), (-249.1237949, 22)],
                knots=[0, 0, 0, 0, 0, 0, 0.212850791, 0.212850791, 0.212850791, 0.212850791, 0.212850791, 0.212850791], degree=5))
        make_face()
    extrude(amount=EXTRUDE_2_DEPTH)

    # 草图5 → 凸台-拉伸3 (add)
    with BuildSketch(Plane(origin=(0, -18.5, 0), x_dir=(-1, 0, 0), z_dir=(0, -1, 0))):
        Polygon((-246, -4), (-266, -4), (-250, -23), (-244, -23), align=None)
    extrude(amount=-EXTRUDE_3_DEPTH)

    # 草图6 → 凸台-拉伸4 (add)
    with BuildSketch(Plane(origin=(0, 12.5, 0), x_dir=(-1, 0, 0), z_dir=(0, -1, 0))):
        Polygon((-246, -4), (-266, -4), (-250, -23), (-244, -23), align=None)
    extrude(amount=-EXTRUDE_4_DEPTH)

    # 草图7 → 切除-拉伸3 (cut)
    with BuildSketch(Plane(origin=(285, 0, 0), x_dir=(0, 0, -1), z_dir=(1, 0, 0))):
        with Locations((12, -9)):
            Circle(SKETCH_7_R)
        with Locations((-12, -9)):
            Circle(SKETCH_7_R)
        with Locations((12, 9)):
            Circle(SKETCH_7_R)
        with Locations((-12, 9)):
            Circle(SKETCH_7_R)
    extrude(amount=-CUT_EXTRUDE_3_DEPTH, mode=Mode.SUBTRACT)

    # 草图8 → 切除-拉伸4 (cut)
    with BuildSketch(Plane(origin=(260, 0, 0), x_dir=(0, 0, -1), z_dir=(1, 0, 0))):
        with Locations((12, -9)):
            Circle(SKETCH_8_R)
        with Locations((-12, -9)):
            Circle(SKETCH_8_R)
        with Locations((12, 9)):
            Circle(SKETCH_8_R)
        with Locations((-12, 9)):
            Circle(SKETCH_8_R)
    extrude(amount=-CUT_EXTRUDE_4_DEPTH, mode=Mode.SUBTRACT)

    # 草图9 → 切除-拉伸5 (cut)
    with BuildSketch(Plane(origin=(275, 0, 0), x_dir=(0, 0, -1), z_dir=(1, 0, 0))):
        with Locations((-12, -9)):
            Circle(SKETCH_9_R)
        with Locations((-12, 9)):
            Circle(SKETCH_9_R)
    extrude(amount=-CUT_EXTRUDE_5_DEPTH, mode=Mode.SUBTRACT)


solid = part.part
